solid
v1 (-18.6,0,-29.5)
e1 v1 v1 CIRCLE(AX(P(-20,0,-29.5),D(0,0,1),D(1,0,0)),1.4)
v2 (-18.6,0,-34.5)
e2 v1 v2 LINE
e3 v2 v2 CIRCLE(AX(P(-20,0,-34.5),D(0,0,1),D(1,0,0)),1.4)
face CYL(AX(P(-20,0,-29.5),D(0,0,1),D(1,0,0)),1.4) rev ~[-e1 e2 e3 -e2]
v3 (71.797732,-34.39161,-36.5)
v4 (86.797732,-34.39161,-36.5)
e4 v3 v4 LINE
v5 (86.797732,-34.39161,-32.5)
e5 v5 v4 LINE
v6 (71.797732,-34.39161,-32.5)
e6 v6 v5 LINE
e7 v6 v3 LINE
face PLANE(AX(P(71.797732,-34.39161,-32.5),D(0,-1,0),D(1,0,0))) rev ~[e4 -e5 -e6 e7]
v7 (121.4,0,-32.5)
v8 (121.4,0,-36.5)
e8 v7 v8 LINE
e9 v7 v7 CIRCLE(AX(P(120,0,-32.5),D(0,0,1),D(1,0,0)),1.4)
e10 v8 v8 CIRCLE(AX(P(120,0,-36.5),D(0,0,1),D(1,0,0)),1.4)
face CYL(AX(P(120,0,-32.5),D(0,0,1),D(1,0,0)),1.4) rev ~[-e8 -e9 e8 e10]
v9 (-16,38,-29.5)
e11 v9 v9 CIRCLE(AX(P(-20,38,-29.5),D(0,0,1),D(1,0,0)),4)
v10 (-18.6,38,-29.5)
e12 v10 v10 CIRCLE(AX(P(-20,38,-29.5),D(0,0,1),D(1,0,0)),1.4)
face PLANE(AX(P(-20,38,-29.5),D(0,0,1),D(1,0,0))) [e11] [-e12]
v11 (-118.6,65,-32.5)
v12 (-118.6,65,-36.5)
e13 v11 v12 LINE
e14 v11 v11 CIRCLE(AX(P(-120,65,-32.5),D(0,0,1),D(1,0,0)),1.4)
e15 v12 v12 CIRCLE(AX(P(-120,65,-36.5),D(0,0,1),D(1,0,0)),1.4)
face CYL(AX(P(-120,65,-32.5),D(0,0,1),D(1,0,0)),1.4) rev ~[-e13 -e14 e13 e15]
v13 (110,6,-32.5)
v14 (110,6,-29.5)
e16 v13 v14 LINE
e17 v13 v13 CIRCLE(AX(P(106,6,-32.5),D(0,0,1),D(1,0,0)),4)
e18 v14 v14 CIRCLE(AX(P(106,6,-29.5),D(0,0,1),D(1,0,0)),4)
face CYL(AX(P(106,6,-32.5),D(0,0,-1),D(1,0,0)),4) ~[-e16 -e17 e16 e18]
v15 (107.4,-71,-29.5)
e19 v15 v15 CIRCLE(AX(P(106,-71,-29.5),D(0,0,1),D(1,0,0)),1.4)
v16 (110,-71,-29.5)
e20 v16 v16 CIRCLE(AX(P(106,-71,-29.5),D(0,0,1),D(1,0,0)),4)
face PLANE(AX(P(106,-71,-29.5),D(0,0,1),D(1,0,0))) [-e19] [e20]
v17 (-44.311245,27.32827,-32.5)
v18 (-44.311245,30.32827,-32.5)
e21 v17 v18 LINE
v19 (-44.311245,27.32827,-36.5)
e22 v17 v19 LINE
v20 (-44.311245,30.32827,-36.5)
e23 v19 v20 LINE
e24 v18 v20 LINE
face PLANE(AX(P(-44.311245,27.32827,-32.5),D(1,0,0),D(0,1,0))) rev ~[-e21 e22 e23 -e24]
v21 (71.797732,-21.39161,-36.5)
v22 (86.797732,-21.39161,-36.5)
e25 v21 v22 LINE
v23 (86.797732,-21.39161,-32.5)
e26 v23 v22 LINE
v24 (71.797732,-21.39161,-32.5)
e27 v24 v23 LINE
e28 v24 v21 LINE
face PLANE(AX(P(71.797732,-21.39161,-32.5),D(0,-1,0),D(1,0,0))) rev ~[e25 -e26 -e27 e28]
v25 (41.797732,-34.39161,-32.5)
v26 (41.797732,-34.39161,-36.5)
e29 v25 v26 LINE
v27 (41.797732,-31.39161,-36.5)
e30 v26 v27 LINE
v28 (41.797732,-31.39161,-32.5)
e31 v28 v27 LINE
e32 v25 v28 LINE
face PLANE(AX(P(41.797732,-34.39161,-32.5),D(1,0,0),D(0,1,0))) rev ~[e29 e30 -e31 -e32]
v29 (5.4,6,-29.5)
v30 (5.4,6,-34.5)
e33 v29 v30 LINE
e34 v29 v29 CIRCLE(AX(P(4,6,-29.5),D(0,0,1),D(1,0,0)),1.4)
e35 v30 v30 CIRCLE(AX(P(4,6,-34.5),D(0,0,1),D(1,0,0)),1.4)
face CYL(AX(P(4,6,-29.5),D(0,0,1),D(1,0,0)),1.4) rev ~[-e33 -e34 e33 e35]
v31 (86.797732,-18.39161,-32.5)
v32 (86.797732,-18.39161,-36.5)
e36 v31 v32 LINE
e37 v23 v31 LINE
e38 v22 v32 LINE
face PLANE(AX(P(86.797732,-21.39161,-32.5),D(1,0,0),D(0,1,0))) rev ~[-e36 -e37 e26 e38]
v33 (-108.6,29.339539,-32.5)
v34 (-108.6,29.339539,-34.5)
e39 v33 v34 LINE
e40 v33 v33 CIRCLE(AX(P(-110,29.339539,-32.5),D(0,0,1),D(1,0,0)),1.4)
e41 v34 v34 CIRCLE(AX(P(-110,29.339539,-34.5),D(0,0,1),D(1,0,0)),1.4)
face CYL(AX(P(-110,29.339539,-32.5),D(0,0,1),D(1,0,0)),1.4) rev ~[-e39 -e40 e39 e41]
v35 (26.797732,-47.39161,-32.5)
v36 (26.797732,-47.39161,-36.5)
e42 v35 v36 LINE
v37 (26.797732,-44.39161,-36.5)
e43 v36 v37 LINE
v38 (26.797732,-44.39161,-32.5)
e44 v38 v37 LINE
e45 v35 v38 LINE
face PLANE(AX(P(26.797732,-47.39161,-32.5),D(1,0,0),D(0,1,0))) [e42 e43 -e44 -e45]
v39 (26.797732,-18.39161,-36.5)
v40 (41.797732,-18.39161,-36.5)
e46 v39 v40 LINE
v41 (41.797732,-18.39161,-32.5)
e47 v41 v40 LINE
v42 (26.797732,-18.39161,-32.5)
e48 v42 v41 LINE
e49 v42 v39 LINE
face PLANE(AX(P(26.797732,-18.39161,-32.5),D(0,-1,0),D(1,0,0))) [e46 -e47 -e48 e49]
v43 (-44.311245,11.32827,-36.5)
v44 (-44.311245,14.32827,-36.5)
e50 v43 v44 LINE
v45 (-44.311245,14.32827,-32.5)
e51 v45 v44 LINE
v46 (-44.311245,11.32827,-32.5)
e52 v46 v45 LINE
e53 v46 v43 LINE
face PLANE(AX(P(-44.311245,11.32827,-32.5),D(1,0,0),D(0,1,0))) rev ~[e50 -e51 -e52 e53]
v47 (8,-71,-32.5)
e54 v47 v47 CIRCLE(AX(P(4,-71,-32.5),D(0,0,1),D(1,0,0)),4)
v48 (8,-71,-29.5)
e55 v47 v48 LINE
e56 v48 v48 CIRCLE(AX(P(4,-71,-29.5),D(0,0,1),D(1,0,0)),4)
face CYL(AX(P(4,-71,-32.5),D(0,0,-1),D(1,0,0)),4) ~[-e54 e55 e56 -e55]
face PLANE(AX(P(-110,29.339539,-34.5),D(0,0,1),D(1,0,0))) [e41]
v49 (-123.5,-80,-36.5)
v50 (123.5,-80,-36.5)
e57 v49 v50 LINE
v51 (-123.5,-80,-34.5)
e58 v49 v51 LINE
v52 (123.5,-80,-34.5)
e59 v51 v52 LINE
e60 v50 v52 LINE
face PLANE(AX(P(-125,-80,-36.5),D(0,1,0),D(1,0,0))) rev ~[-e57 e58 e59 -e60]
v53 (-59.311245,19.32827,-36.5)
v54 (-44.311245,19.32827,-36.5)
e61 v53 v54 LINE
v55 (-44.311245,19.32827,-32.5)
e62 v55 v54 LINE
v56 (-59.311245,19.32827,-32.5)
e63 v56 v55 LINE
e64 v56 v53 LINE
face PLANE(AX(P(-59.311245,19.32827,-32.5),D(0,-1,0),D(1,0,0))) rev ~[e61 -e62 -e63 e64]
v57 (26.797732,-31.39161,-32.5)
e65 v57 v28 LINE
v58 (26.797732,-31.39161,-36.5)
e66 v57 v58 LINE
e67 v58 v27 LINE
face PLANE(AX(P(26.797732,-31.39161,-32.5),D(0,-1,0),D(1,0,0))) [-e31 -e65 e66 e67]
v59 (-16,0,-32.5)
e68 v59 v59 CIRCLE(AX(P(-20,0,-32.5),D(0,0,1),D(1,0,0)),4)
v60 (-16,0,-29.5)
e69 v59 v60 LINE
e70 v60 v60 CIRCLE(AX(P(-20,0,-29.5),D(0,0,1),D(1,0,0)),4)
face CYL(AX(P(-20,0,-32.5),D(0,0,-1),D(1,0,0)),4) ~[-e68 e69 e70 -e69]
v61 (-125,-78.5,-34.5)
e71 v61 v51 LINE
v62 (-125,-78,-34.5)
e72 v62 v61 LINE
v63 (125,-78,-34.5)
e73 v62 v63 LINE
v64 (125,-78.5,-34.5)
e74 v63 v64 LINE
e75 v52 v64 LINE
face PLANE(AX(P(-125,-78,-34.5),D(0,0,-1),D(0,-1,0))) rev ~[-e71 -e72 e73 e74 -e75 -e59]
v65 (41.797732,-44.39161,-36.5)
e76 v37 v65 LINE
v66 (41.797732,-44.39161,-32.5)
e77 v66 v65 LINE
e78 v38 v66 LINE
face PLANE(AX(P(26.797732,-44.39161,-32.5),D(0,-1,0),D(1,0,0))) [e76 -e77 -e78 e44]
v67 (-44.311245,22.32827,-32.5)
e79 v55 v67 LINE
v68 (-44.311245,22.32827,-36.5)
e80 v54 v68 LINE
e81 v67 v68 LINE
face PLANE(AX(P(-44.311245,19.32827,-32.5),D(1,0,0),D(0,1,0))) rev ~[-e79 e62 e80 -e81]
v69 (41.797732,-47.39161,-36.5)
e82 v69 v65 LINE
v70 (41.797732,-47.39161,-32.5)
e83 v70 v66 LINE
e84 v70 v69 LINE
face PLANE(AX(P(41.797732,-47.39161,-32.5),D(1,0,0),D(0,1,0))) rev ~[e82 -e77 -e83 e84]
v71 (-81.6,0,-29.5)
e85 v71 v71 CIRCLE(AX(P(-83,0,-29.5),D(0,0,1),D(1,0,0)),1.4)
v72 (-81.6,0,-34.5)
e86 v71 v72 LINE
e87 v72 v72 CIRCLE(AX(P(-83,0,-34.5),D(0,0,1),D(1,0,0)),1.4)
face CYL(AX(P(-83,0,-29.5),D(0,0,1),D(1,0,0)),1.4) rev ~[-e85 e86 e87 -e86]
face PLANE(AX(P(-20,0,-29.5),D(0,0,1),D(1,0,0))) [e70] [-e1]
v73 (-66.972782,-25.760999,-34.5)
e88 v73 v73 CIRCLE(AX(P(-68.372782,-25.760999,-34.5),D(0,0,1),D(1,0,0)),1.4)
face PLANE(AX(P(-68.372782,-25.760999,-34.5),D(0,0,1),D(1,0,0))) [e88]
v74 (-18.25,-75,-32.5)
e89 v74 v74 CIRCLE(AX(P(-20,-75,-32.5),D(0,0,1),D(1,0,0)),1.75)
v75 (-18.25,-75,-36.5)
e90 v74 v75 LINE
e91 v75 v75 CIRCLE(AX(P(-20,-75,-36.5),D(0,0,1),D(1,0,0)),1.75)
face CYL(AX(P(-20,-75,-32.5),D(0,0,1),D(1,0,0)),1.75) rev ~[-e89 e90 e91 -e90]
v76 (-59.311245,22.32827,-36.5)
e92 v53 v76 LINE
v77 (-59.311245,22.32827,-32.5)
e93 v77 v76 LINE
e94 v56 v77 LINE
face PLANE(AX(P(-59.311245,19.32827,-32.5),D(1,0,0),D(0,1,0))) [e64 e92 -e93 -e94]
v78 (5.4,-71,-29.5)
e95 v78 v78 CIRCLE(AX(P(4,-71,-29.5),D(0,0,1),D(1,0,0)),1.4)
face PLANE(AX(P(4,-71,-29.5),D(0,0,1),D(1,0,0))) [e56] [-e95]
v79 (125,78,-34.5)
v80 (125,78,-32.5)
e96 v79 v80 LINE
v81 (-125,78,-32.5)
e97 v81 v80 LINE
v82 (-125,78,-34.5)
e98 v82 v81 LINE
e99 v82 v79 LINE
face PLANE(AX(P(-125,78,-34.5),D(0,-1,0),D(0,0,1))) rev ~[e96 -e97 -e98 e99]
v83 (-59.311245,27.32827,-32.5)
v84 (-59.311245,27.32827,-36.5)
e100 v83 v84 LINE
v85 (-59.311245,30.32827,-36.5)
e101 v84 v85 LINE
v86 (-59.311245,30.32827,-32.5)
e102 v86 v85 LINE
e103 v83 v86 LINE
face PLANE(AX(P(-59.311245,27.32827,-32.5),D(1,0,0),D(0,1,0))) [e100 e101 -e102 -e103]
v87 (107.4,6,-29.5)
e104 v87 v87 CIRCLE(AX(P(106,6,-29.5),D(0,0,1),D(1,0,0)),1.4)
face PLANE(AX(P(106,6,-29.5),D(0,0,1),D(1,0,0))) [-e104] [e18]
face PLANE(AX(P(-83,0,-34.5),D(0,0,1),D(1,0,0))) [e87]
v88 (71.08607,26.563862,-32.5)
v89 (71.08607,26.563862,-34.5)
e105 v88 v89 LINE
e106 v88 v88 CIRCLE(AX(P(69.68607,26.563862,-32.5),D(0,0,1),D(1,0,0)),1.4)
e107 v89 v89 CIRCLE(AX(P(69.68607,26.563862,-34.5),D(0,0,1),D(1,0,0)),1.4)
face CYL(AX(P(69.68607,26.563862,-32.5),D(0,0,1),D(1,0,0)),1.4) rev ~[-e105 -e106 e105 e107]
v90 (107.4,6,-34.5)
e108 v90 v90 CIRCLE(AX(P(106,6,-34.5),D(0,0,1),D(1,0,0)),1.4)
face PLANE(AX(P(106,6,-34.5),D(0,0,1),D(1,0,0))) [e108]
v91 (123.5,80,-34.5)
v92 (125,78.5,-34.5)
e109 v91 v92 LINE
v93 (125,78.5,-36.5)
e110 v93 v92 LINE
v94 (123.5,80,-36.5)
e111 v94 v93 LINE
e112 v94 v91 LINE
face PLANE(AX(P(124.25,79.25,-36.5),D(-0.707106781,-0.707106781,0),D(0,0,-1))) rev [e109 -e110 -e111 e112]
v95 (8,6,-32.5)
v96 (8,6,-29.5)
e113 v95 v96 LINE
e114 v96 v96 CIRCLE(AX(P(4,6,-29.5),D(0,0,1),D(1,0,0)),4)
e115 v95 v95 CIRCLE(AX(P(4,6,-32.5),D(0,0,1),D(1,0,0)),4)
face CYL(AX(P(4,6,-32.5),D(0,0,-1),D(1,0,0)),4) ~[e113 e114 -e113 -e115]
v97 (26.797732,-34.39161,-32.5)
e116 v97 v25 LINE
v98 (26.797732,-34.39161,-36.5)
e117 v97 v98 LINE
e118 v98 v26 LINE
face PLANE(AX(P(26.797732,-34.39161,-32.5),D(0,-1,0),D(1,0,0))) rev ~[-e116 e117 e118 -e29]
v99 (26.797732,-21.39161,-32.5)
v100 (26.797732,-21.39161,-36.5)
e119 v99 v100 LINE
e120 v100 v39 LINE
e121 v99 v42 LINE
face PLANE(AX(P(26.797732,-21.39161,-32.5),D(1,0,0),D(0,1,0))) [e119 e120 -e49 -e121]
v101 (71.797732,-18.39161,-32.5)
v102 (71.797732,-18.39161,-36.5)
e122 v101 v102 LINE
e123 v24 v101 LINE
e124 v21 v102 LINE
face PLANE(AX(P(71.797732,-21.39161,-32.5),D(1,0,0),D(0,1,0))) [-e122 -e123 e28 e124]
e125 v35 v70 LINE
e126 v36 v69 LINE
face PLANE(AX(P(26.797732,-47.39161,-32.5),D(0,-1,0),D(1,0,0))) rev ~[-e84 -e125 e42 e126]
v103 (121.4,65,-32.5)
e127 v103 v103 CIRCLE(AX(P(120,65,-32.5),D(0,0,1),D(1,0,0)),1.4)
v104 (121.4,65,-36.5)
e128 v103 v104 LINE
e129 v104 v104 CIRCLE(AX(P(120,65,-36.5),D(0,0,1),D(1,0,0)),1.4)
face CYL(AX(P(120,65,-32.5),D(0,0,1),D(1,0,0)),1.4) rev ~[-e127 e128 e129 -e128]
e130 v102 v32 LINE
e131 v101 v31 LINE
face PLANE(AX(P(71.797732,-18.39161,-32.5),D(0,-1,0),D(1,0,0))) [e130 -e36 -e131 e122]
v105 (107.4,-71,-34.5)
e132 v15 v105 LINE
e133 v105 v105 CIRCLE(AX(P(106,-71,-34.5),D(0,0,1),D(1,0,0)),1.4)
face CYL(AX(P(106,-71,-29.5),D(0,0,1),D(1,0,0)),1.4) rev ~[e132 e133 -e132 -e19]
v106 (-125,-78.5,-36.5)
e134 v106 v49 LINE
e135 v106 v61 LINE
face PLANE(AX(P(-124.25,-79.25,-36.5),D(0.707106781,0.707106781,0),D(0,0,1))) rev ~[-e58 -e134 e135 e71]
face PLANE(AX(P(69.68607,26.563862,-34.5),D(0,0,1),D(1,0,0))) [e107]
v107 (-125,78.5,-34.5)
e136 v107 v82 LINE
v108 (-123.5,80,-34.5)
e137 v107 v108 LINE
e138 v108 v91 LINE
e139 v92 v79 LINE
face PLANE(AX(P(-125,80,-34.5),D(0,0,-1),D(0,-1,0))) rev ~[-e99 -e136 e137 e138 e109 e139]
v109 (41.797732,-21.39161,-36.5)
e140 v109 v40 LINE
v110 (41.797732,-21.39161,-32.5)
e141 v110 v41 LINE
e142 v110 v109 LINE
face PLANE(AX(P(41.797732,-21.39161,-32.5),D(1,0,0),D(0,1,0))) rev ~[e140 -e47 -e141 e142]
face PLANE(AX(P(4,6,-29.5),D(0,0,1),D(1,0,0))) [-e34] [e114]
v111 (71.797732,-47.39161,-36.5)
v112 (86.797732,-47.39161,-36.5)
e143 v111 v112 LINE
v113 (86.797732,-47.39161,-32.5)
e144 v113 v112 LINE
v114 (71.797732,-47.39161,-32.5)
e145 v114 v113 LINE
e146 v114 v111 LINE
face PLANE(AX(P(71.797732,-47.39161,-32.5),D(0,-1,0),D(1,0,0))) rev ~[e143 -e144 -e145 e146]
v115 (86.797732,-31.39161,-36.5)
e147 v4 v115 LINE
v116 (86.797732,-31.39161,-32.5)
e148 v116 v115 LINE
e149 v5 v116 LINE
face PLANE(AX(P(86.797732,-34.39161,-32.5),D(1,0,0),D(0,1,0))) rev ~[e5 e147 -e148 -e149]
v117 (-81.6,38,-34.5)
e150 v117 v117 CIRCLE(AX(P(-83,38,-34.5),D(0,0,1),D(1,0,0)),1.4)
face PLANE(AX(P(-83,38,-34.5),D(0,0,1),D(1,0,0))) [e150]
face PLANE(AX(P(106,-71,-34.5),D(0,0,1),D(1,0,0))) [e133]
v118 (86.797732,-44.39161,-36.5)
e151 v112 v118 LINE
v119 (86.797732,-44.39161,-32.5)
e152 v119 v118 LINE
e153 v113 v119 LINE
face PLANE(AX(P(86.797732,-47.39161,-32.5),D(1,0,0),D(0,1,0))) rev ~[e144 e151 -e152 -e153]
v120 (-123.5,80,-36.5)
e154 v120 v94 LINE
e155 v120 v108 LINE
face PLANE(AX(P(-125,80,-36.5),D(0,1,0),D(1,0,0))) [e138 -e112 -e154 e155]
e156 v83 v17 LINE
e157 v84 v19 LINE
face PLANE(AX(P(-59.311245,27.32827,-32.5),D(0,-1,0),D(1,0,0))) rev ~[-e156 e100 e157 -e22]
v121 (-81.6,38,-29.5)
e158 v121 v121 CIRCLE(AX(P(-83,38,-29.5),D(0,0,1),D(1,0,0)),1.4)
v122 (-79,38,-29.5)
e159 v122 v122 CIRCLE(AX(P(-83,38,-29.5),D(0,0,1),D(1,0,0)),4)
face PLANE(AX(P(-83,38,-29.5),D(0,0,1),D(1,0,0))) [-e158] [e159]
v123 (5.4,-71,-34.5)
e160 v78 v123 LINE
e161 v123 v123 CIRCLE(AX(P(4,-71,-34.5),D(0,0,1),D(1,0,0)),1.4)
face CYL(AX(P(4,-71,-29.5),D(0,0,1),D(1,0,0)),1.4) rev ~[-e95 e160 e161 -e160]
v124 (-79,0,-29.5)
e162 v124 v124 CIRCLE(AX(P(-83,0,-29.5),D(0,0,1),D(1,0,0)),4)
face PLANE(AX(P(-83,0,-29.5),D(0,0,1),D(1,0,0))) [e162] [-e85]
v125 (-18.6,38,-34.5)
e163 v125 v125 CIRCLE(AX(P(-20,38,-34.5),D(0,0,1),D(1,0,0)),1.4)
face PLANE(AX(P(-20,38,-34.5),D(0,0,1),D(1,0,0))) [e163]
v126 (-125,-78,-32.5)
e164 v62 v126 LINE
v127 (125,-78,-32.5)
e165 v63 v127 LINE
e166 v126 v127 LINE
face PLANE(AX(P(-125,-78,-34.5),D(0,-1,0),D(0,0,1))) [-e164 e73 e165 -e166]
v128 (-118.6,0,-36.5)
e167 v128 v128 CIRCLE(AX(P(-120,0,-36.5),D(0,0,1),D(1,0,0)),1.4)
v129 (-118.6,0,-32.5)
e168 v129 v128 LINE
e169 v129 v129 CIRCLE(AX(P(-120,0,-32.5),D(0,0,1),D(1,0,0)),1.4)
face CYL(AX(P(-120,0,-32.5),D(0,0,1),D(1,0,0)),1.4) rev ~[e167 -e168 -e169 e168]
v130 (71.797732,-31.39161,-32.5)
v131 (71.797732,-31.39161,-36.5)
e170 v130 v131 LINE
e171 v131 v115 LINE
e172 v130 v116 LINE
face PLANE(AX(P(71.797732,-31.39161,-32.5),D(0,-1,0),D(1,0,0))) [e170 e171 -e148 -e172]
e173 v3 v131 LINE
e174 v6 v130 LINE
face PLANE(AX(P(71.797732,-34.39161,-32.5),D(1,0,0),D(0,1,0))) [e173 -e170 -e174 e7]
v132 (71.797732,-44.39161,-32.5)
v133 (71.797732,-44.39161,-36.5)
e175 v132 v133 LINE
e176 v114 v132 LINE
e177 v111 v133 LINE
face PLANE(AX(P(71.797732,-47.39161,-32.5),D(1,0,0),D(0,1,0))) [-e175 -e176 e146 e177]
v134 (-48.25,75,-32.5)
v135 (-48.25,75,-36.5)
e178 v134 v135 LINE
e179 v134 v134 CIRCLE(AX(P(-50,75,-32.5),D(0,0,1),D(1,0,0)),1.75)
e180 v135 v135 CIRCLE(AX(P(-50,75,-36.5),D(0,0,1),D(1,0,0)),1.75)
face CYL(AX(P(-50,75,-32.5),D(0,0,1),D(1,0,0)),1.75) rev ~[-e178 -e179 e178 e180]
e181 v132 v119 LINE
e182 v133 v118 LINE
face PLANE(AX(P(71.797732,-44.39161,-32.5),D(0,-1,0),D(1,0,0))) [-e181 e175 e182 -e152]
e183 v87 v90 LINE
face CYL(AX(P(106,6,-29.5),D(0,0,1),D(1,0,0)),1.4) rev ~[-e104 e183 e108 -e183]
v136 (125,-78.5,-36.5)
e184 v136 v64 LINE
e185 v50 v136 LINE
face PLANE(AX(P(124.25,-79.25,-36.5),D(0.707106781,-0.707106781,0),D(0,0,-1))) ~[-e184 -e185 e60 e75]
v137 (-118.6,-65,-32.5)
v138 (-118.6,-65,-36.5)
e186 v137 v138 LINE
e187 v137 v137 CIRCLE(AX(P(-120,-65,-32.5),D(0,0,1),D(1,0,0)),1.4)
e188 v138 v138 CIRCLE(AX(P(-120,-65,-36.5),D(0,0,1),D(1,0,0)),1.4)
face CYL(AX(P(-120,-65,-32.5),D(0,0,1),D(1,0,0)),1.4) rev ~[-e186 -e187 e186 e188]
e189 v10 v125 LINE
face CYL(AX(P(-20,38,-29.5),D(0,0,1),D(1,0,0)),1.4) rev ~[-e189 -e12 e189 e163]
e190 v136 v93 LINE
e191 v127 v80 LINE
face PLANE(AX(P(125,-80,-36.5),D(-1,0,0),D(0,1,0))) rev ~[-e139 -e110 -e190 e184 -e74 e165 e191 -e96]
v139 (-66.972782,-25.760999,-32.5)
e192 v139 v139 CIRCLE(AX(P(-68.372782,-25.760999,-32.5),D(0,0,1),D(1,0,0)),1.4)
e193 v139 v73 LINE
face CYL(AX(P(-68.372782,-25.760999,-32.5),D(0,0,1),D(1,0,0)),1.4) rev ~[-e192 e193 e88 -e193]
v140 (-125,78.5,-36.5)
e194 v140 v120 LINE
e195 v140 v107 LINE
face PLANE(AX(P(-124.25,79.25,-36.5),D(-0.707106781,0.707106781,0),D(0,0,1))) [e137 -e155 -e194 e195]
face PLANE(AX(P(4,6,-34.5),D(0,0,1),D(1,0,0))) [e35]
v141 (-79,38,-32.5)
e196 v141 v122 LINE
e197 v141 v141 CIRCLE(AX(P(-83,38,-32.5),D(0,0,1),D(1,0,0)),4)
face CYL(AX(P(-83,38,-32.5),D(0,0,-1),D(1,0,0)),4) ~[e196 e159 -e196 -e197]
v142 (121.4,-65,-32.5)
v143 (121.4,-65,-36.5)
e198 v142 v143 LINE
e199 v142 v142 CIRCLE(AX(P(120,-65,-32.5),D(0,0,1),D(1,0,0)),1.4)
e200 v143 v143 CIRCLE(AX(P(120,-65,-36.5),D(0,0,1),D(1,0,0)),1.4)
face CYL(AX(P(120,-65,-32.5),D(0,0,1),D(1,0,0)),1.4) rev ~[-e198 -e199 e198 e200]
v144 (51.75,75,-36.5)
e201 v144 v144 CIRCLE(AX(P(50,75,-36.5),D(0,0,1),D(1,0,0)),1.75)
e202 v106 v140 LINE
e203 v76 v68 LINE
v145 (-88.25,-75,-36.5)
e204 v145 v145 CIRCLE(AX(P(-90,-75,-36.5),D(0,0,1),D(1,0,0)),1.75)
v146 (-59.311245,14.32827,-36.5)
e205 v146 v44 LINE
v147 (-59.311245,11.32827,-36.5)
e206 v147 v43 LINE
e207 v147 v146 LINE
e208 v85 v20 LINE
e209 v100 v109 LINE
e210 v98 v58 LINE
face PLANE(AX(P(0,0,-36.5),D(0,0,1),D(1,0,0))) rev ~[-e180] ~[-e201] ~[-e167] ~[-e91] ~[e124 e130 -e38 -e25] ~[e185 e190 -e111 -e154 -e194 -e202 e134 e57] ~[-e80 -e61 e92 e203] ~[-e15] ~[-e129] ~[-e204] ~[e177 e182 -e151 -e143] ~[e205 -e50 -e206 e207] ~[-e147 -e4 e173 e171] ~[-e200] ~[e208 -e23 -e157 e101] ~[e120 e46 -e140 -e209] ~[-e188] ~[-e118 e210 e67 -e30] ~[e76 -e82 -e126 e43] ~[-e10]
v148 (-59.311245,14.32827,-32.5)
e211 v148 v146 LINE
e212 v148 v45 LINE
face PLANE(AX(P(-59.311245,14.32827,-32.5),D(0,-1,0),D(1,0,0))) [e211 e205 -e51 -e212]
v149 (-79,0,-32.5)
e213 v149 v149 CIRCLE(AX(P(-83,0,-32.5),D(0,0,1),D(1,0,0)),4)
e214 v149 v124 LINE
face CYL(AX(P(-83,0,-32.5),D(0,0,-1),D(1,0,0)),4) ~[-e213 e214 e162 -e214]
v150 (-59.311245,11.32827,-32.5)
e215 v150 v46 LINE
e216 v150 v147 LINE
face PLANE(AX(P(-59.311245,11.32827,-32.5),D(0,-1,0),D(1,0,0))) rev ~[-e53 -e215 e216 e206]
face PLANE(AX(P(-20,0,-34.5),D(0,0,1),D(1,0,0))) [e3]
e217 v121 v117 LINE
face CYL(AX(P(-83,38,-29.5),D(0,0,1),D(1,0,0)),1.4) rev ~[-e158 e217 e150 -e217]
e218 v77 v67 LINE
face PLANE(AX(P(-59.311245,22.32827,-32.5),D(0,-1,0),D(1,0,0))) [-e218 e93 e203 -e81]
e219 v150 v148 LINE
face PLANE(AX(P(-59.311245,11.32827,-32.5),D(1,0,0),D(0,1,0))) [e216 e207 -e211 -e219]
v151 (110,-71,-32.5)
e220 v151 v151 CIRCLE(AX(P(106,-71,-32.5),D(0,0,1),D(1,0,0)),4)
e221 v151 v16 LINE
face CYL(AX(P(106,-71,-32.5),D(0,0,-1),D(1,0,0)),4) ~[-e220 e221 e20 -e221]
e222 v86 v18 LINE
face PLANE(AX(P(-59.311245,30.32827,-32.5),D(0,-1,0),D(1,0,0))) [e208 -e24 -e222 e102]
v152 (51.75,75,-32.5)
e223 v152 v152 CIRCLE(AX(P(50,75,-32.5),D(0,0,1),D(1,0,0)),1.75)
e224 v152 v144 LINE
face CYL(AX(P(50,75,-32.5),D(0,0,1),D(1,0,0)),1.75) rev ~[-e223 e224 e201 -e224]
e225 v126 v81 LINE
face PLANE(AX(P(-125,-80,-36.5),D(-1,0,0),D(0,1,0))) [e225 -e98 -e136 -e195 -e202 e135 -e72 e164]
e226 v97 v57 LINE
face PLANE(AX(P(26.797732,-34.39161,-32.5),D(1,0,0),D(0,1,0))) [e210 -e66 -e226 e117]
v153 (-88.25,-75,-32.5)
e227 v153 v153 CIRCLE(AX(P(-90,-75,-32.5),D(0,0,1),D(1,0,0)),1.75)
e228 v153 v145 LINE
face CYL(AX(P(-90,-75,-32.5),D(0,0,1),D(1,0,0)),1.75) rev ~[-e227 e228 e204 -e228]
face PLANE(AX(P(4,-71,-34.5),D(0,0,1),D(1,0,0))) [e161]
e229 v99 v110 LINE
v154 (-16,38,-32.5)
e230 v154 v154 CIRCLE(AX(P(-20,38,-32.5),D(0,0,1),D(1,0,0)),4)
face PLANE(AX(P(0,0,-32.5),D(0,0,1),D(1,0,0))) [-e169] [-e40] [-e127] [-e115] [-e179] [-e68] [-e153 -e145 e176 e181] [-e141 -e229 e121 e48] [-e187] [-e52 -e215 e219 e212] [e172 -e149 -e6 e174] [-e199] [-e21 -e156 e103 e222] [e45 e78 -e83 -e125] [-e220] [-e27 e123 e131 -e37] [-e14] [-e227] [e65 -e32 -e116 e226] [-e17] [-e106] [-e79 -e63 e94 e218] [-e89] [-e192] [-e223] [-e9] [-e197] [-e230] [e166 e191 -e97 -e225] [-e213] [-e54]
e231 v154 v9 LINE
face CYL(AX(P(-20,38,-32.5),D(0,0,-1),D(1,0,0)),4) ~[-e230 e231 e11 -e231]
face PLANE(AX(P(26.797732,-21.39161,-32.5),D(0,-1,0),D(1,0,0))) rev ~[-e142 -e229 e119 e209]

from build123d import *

# Parameters (mm, degrees)
SKETCH_W        = 250
SKETCH_H        = 160
PAD_DEPTH       = 4
SKETCH001_R     = 4
PAD001_DEPTH    = 3
SKETCH002_R     = 1.4
POCKET_DEPTH    = 5
SKETCH019_R     = 1.4
POCKET009_DEPTH = 2
SKETCH022_R     = 1.4
SKETCH022_R_2   = 1.75
SKETCH022_W     = 15
SKETCH022_H     = 3
POCKET010_DEPTH = 5
SKETCH043_W     = 2
SKETCH043_H     = 2
POCKET025_DEPTH = 250.001
CHAMFER032_SIZE = 1.5


with BuildPart() as part:
    # Sketch → Pad (new body)
    with BuildSketch(Plane.XY):
        Rectangle(SKETCH_W, SKETCH_H)
    extrude(amount=PAD_DEPTH)

    # Sketch001 (on Face6 of Pad) → Pad001 (join)
    with BuildSketch(Plane.XY.offset(4)):
        with Locations((4, 6)):
            Circle(SKETCH001_R)
        with Locations((106, 6)):
            Circle(SKETCH001_R)
        with Locations((106, -71)):
            Circle(SKETCH001_R)
        with Locations((4, -71)):
            Circle(SKETCH001_R)
        with Locations((-83.0000000001, 38)):
            Circle(SKETCH001_R)
        with Locations((-20, 38)):
            Circle(SKETCH001_R)
        with Locations((-20, 0)):
            Circle(SKETCH001_R)
        with Locations((-83.0000000001, 0)):
            Circle(SKETCH001_R)
    extrude(amount=PAD001_DEPTH)

    # Sketch002 → Pocket (cut)
    with BuildSketch(Plane.XY.offset(7)):
        with Locations((-83, 38)):
            Circle(SKETCH002_R)
        with Locations((-20, 38)):
            Circle(SKETCH002_R)
        with Locations((-83, 0)):
            Circle(SKETCH002_R)
        with Locations((-20, 0)):
            Circle(SKETCH002_R)
        with Locations((4, 6)):
            Circle(SKETCH002_R)
        with Locations((106, 6)):
            Circle(SKETCH002_R)
        with Locations((106, -71)):
            Circle(SKETCH002_R)
        with Locations((4, -71)):
            Circle(SKETCH002_R)
    extrude(amount=-POCKET_DEPTH, mode=Mode.SUBTRACT)

    # Sketch019 (on Face5 of Pocket) → Pocket009 (cut)
    with BuildSketch(Plane.XY.offset(4)):
        with Locations((-110, 29.3395385444)):
            Circle(SKETCH019_R)
        with Locations((69.686069743, 26.5638621346)):
            Circle(SKETCH019_R)
        with Locations((-68.3727818418, -25.7609993889)):
            Circle(SKETCH019_R)
    extrude(amount=-POCKET009_DEPTH, mode=Mode.SUBTRACT)

    # Sketch022 (on Face5 of Pocket009) → Pocket010 (cut)
    with BuildSketch(Plane.XY.offset(4)):
        with Locations((-120, 65)):
            Circle(SKETCH022_R)
        with Locations((-120, -65)):
            Circle(SKETCH022_R)
        with Locations((120, 65)):
            Circle(SKETCH022_R)
        with Locations((120, -65)):
            Circle(SKETCH022_R)
        with Locations((-50, 75)):
            Circle(SKETCH022_R_2)
        with Locations((50, 75)):
            Circle(SKETCH022_R_2)
        with Locations((-90, -75)):
            Circle(SKETCH022_R_2)
        with Locations((-20, -75)):
            Circle(SKETCH022_R_2)
        with Locations((-120, 0)):
            Circle(SKETCH022_R)
        with Locations((120, 0)):
            Circle(SKETCH022_R)
        with Locations((34.2977322278, -19.8916100594)):
            Rectangle(SKETCH022_W, SKETCH022_H)
        with Locations((34.2977322278, -32.8916100594)):
            Rectangle(SKETCH022_W, SKETCH022_H)
        with Locations((34.2977322278, -45.8916100594)):
            Rectangle(SKETCH022_W, SKETCH022_H)
        with Locations((79.2977322278, -19.8916100594)):
            Rectangle(SKETCH022_W, SKETCH022_H)
        with Locations((79.2977322278, -32.8916100594)):
            Rectangle(SKETCH022_W, SKETCH022_H)
        with Locations((79.2977322278, -45.8916100594)):
            Rectangle(SKETCH022_W, SKETCH022_H)
        with Locations((-51.8112448514, 28.8282704754)):
            Rectangle(SKETCH022_W, SKETCH022_H)
        with Locations((-51.8112448514, 20.8282704754)):
            Rectangle(SKETCH022_W, SKETCH022_H)
        with Locations((-51.8112448514, 12.8282704754)):
            Rectangle(SKETCH022_W, SKETCH022_H)
    extrude(amount=-POCKET010_DEPTH, mode=Mode.SUBTRACT)

    # Sketch043 (on Face2 of Pocket010) → Pocket025 (cut, through all)
    with BuildSketch(Plane(origin=(-125, 0, 0), x_dir=(0, -1, 0), z_dir=(-1, 0, 0))):
        with Locations((79, 3)):
            Rectangle(SKETCH043_W, SKETCH043_H)
        with Locations((-79, 3)):
            Rectangle(SKETCH043_W, SKETCH043_H)
    extrude(amount=-POCKET025_DEPTH, mode=Mode.SUBTRACT)

    # Chamfer032
    chamfer032_edges = [part.edges().sort_by_distance(p)[0] for p in [
        (-125, 80, 1),
        (125, 80, 1),
        (125, -80, 1),
        (-125, -80, 1),
    ]]
    chamfer(chamfer032_edges, length=CHAMFER032_SIZE)


with BuildPart() as part_1:
    # Body placement: moved
    add(part.part.moved(Location((0, 0, -36.5))))


solid = part_1.part
